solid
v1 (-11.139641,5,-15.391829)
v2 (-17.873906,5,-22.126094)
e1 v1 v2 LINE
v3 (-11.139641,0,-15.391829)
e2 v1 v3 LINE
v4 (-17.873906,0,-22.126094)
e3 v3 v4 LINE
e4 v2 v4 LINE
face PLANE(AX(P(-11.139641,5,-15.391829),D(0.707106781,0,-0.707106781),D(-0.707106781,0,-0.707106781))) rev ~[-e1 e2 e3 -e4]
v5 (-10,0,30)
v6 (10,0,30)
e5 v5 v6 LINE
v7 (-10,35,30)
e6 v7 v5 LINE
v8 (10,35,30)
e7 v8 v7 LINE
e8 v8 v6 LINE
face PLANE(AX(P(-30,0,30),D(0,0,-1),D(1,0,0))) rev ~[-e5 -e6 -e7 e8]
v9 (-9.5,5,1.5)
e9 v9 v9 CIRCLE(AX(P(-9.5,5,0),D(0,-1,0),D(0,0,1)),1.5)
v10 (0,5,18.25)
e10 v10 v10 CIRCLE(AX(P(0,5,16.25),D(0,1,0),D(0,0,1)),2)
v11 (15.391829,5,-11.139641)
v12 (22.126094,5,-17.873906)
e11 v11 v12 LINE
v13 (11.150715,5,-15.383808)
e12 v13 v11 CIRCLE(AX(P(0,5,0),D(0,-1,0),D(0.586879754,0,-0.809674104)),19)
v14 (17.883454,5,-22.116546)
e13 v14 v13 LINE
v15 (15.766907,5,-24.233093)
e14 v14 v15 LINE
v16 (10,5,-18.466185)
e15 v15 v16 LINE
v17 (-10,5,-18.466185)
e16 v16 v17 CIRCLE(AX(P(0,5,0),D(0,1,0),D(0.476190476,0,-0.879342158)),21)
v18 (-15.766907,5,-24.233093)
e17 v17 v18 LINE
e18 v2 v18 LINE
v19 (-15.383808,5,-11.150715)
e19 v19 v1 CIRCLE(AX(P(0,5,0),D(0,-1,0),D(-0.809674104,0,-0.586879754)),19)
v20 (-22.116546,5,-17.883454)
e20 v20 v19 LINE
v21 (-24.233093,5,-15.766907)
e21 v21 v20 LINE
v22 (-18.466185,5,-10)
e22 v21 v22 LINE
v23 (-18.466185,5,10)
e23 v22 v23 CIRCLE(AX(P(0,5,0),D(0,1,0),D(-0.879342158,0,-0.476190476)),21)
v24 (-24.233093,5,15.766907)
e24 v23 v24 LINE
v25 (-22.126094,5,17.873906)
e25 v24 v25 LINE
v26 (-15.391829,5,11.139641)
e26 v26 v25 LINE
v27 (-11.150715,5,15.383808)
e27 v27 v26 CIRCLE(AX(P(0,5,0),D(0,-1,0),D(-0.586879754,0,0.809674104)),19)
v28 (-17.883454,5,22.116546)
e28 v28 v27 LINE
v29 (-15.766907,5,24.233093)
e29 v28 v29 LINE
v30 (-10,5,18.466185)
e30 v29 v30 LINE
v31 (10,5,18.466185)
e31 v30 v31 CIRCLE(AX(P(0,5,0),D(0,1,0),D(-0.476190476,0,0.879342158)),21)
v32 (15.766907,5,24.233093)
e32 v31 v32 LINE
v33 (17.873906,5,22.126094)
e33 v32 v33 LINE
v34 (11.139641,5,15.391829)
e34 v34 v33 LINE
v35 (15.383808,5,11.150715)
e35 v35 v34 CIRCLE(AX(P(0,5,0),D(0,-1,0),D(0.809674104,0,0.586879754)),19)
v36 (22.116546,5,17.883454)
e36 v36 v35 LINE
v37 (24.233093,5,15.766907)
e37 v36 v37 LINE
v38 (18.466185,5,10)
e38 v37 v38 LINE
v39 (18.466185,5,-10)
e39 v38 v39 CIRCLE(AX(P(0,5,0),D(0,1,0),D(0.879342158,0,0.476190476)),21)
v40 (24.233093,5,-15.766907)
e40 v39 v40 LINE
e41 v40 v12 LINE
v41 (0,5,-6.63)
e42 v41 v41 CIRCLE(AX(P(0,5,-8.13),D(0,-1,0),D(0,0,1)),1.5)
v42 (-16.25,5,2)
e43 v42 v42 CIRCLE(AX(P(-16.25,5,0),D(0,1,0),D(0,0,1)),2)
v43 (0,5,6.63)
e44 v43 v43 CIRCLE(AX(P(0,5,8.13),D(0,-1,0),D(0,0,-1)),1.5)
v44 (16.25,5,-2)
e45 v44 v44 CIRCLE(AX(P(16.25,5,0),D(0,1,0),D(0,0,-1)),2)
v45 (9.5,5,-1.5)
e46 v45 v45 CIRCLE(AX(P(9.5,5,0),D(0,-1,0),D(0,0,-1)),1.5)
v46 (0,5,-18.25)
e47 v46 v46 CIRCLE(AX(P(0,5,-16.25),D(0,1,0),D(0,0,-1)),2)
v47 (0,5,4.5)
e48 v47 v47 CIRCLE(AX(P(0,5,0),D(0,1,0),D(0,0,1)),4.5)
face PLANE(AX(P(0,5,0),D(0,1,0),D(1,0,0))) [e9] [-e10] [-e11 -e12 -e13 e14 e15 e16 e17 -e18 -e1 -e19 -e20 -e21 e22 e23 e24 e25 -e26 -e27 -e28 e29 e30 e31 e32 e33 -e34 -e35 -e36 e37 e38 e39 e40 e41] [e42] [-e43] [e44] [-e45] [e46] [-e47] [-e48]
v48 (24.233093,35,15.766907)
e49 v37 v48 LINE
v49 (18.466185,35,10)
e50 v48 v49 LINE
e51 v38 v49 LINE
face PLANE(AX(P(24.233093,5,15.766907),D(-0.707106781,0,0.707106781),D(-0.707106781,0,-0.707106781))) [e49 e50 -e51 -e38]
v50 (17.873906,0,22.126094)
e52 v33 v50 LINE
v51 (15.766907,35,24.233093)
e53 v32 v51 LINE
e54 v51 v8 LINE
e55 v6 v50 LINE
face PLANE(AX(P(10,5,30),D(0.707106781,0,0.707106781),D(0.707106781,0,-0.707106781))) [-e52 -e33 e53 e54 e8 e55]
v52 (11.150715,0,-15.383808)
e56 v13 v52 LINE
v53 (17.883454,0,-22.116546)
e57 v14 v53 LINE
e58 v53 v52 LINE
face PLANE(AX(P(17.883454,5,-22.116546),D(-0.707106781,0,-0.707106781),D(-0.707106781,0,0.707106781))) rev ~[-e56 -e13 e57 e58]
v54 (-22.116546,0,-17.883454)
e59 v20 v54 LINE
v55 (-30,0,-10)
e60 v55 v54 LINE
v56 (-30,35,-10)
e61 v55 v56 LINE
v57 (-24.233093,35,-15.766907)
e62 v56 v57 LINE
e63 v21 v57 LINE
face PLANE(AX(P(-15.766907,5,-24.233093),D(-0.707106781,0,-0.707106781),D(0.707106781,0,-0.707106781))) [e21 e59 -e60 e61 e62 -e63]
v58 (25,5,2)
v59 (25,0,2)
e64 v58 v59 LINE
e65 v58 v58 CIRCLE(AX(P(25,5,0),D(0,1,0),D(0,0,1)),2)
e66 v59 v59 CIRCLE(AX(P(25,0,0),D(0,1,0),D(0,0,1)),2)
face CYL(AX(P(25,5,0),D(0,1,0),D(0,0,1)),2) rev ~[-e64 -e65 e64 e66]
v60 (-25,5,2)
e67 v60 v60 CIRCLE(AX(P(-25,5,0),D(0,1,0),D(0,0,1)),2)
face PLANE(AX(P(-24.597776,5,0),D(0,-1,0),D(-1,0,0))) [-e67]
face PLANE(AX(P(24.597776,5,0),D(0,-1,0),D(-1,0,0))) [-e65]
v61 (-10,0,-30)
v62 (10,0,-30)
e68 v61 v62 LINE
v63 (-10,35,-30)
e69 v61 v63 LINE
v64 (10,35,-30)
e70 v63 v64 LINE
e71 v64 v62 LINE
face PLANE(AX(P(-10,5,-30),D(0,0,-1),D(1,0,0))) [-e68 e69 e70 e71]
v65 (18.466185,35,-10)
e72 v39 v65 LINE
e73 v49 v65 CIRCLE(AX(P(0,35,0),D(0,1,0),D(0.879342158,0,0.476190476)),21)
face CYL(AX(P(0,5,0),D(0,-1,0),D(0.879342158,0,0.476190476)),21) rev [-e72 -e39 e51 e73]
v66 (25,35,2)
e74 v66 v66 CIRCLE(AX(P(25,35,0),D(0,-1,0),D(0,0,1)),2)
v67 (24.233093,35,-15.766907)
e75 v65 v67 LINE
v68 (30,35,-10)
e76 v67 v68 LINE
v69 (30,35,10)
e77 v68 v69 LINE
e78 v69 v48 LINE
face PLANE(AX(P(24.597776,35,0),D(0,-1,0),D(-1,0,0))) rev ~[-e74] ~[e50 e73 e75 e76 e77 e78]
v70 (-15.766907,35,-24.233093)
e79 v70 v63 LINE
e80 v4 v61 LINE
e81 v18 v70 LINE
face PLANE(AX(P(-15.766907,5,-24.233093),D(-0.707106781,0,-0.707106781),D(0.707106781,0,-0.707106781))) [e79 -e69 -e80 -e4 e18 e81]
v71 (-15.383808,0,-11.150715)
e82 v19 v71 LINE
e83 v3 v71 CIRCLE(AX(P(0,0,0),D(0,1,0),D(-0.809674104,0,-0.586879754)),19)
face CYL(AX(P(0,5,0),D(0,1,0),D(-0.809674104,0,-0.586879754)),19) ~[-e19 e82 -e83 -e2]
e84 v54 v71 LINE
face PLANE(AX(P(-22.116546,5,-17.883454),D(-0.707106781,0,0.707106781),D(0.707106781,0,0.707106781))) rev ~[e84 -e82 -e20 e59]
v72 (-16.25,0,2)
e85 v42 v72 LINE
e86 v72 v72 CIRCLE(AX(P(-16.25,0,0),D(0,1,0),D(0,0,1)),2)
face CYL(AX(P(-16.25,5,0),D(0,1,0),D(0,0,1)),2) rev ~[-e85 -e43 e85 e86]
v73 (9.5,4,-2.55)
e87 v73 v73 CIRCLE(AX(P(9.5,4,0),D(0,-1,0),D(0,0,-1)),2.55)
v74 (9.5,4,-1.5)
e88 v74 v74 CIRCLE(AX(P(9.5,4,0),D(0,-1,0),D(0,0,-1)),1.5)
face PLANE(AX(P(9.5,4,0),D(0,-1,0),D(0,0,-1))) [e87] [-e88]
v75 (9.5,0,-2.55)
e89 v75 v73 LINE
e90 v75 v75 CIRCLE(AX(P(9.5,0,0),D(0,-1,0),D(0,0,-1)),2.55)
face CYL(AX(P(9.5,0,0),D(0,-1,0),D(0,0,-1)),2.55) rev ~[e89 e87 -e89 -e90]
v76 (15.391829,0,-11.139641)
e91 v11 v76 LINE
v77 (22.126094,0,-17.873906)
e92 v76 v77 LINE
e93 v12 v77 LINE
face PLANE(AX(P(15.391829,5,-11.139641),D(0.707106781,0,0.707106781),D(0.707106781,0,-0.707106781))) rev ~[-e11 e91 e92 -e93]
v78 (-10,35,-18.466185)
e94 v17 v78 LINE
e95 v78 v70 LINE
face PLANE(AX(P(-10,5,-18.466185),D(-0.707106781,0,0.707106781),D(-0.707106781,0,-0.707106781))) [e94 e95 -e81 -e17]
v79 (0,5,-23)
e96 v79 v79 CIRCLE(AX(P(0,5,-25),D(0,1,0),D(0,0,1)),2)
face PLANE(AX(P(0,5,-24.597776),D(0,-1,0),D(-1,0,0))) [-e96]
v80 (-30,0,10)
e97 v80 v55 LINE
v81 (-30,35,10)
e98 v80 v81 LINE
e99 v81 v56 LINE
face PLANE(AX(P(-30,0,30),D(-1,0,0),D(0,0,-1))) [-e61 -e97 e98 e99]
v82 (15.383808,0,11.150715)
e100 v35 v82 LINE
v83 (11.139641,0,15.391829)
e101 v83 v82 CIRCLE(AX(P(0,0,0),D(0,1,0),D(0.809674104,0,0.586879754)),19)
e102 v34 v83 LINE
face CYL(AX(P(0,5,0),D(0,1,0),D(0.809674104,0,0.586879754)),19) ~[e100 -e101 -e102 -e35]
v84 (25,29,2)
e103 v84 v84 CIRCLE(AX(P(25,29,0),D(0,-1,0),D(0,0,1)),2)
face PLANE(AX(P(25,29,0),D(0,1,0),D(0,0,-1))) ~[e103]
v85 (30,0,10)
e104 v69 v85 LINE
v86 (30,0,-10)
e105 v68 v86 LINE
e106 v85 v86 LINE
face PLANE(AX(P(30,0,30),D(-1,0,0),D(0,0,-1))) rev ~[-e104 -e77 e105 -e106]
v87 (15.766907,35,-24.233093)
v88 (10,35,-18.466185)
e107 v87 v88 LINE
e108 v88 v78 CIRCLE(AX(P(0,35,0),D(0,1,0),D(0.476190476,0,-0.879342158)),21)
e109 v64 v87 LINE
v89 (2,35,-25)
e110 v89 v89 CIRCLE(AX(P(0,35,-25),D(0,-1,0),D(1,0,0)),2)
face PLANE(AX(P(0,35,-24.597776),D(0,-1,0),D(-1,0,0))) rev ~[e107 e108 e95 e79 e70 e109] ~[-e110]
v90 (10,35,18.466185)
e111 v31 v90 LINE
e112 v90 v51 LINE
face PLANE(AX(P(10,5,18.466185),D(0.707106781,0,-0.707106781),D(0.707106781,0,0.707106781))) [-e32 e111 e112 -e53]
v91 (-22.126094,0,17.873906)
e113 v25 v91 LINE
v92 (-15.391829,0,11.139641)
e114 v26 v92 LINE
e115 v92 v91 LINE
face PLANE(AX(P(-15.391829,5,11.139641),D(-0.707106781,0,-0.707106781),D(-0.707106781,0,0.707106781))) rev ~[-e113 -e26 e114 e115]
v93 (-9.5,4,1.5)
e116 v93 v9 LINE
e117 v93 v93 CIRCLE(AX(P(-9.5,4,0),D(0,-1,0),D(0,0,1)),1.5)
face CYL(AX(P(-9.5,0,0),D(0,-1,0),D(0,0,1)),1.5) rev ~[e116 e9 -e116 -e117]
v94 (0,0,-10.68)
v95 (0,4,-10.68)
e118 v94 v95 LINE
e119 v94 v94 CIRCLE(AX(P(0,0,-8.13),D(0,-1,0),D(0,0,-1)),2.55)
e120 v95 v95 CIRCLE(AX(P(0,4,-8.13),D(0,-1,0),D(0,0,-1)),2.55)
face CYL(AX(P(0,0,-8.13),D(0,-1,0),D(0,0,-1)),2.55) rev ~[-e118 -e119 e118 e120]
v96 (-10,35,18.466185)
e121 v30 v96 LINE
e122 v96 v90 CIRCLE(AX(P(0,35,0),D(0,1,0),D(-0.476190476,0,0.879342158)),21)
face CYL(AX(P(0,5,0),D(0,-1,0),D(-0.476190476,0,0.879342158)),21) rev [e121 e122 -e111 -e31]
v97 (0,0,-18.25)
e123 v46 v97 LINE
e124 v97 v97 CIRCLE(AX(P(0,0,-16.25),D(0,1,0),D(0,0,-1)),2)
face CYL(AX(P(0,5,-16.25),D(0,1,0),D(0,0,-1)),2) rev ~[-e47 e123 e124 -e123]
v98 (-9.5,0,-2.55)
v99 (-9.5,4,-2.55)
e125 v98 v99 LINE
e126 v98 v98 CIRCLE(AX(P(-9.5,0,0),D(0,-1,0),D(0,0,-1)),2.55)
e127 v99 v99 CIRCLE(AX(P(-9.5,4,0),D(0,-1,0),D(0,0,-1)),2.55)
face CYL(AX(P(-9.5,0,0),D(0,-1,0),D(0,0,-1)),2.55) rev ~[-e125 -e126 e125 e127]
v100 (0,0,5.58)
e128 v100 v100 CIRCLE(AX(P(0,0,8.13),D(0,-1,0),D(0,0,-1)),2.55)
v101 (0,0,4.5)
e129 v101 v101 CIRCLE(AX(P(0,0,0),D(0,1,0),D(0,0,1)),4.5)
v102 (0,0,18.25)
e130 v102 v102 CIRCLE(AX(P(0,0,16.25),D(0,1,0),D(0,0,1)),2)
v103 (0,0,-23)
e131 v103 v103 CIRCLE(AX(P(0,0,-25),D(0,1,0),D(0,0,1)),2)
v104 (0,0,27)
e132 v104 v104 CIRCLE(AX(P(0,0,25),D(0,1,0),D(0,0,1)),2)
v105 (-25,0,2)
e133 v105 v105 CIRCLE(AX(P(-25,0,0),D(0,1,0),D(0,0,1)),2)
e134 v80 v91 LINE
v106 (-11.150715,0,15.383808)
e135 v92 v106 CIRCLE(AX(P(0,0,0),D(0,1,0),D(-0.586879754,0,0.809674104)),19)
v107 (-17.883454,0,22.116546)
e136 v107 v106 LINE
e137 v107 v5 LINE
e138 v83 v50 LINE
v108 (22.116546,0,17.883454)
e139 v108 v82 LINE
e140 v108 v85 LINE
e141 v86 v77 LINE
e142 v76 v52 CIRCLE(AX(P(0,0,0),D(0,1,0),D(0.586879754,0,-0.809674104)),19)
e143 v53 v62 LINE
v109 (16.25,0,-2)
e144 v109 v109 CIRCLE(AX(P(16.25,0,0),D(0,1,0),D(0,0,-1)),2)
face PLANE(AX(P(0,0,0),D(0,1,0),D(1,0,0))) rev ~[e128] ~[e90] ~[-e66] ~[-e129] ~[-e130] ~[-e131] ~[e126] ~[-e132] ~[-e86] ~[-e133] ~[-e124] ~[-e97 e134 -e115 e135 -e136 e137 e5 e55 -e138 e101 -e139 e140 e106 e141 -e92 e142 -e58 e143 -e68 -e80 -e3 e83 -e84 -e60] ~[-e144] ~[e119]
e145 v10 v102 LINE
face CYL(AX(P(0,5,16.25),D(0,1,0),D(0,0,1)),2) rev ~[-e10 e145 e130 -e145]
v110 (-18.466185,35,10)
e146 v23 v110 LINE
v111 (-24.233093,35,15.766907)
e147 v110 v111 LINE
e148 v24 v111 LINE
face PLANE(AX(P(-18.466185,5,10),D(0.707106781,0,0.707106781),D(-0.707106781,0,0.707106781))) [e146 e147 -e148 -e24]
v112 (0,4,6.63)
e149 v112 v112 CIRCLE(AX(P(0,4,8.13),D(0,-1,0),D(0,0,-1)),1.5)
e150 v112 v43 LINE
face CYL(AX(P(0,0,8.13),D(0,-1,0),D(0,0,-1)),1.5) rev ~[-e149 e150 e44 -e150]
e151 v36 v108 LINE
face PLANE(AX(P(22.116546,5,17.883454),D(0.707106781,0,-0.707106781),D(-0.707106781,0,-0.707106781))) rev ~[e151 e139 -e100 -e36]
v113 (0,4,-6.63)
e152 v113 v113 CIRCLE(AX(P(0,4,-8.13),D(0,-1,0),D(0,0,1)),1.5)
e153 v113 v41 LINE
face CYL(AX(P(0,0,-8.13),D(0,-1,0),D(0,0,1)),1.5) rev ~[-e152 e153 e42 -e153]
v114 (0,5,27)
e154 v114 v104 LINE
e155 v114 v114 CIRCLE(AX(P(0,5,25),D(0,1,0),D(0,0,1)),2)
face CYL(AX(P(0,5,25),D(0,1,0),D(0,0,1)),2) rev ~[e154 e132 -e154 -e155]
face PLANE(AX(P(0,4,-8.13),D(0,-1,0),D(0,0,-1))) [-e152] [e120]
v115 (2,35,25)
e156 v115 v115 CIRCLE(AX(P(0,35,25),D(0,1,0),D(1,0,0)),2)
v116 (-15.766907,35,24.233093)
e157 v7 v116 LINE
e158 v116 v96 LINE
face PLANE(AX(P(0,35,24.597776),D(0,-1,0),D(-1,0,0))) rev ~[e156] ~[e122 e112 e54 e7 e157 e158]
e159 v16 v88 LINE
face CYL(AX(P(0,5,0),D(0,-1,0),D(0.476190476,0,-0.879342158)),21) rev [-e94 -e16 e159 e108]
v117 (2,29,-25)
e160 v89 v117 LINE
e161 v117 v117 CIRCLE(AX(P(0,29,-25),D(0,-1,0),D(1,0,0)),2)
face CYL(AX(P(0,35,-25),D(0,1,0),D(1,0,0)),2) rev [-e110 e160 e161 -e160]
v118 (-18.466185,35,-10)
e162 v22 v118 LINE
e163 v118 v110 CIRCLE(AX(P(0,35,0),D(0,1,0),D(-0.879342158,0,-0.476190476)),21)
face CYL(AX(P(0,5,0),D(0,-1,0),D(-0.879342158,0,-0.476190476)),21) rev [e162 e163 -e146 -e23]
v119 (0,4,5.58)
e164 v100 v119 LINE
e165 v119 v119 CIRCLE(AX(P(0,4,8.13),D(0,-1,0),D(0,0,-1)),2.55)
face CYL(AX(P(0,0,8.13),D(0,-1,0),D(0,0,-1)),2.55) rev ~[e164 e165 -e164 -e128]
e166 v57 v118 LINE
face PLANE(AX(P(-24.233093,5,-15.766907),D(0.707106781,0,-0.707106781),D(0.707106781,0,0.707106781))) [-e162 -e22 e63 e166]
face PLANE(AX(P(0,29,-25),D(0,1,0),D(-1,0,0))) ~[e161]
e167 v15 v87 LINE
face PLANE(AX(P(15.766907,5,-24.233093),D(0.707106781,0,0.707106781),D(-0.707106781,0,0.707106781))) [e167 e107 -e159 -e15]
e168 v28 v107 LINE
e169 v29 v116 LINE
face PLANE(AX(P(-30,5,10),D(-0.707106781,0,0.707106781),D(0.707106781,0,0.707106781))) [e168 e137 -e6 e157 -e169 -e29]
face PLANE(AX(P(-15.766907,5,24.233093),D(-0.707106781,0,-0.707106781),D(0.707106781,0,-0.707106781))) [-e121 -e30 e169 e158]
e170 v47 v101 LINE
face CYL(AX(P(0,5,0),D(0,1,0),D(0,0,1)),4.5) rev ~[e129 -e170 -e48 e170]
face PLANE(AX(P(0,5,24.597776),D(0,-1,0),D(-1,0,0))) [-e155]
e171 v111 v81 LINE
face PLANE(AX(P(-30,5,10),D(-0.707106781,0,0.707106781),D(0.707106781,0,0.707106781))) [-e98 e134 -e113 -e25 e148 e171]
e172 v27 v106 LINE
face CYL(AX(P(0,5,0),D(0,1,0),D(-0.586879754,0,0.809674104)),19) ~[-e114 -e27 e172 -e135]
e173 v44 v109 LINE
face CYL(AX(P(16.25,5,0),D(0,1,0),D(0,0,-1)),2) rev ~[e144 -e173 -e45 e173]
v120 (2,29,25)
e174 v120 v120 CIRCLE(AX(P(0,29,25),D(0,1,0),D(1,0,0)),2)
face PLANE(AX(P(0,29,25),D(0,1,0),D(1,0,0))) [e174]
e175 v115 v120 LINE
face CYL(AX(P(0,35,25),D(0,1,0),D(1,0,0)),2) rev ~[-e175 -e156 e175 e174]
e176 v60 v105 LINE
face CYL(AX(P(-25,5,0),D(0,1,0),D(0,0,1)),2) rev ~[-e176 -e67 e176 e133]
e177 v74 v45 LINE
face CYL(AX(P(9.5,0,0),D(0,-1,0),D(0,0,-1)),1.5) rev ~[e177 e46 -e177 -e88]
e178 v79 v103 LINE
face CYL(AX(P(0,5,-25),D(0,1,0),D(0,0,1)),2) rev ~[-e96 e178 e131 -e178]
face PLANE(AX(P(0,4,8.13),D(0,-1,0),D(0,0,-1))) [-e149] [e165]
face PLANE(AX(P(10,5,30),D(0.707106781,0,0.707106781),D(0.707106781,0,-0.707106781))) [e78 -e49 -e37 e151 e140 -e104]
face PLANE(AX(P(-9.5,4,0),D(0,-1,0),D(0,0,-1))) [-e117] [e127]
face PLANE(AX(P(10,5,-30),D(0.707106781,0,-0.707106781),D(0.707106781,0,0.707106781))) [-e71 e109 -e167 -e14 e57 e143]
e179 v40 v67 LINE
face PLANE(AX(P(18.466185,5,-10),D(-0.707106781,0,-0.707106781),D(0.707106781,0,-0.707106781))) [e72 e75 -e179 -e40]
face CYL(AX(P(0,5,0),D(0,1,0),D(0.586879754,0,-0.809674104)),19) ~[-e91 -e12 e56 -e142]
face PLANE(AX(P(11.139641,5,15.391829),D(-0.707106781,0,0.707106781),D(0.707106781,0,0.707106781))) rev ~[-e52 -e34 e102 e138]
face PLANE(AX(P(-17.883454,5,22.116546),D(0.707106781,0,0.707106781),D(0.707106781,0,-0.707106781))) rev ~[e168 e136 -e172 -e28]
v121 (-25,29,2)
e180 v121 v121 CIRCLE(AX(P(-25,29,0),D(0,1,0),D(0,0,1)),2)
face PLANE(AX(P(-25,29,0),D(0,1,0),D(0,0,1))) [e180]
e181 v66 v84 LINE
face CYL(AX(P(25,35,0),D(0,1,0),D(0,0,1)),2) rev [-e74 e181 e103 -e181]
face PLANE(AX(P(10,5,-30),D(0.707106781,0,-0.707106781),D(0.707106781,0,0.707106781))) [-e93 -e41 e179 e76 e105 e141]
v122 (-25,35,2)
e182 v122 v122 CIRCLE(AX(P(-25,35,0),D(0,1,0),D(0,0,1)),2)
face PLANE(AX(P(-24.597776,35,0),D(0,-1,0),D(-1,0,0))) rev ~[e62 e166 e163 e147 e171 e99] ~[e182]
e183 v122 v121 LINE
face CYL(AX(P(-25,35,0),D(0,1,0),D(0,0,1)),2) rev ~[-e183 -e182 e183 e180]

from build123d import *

# Parameters (mm, degrees)
SKETCH1_W                = 60
SKETCH1_H                = 60
BOSS_EXTRUDE1_DEPTH      = 5
SKETCH2_R                = 2
CUT_EXTRUDE2_DEPTH       = 43.720018727
SKETCH8_R                = 4.5
CUT_EXTRUDE4_DEPTH       = 43.720018727
SKETCH31_R               = 1.5
CUT_EXTRUDE20_DEPTH      = 10
SKETCH33_R               = 2.5
CUT_EXTRUDE21_DEPTH      = 3
BOSS_EXTRUDE11_START     = -5
SKETCH35_R               = 4.5
SKETCH35_R_2             = 2
BOSS_EXTRUDE11_DEPTH     = 5
SKETCH37_R               = 1.5
CUT_EXTRUDE22_DEPTH      = 5
SKETCH38_R               = 2.55
CUT_EXTRUDE23_DEPTH      = 4
SKETCH7_R                = 2
CUT_EXTRUDE24_DEPTH      = 10
BOSS_EXTRUDE12_DEPTH     = 30
SKETCH40_R               = 2
CUT_EXTRUDE25_DEPTH      = 6
MIRROR20_COPY_1_SKETCH_R = 2
MIRROR20_COPY_1_DEPTH    = 6
CUT_EXTRUDE27_DEPTH      = 10


with BuildPart() as part:
    # Sketch1 → Boss-Extrude1 (new body)
    with BuildSketch(Plane(origin=(0, 0, 0), x_dir=(1, 0, 0), z_dir=(0, 1, 0))):
        Rectangle(SKETCH1_W, SKETCH1_H)
    extrude(amount=BOSS_EXTRUDE1_DEPTH)

    # Sketch2 → Cut-Extrude2 (cut, through all)
    with BuildSketch(Plane(origin=(0, 5, 0), x_dir=(1, 0, 0), z_dir=(0, 1, 0))):
        with Locations(Location((-16.25, 0, 0), (0, 0, 270))):
            Circle(SKETCH2_R)
        with Locations(Location((16.25, 0, 0), (0, 0, 90))):
            Circle(SKETCH2_R)
        with Locations(Location((0, -16.25, 0), (0, 0, 270))):
            Circle(SKETCH2_R)
        with Locations(Location((0, 16.25, 0), (0, 0, 90))):
            Circle(SKETCH2_R)
    extrude(amount=-CUT_EXTRUDE2_DEPTH, mode=Mode.SUBTRACT)

    # Sketch8 → Cut-Extrude4 (cut, through all)
    with BuildSketch(Plane(origin=(0, 5, 0), x_dir=(1, 0, 0), z_dir=(0, 1, 0))):
        with Locations(Location((0, 0, 0), (0, 0, 270))):
            Circle(SKETCH8_R)
    extrude(amount=-CUT_EXTRUDE4_DEPTH, mode=Mode.SUBTRACT)

    # Sketch31 → Cut-Extrude20 (cut)
    with BuildSketch(Plane(origin=(0, 5, 0), x_dir=(1, 0, 0), z_dir=(0, 1, 0))):
        with Locations(Location((0, 9.5, 0), (0, 0, 270))):
            Circle(SKETCH31_R)
    cut_extrude20 = extrude(amount=-CUT_EXTRUDE20_DEPTH, mode=Mode.SUBTRACT)

    # Sketch33 → Cut-Extrude21 (cut)
    with BuildSketch(Plane.XZ):
        with Locations(Location((0, -9.5, 0), (0, 0, 270))):
            Circle(SKETCH33_R)
    cut_extrude21 = extrude(amount=-CUT_EXTRUDE21_DEPTH, mode=Mode.SUBTRACT)

    # Mirror17: Cut-Extrude20, Cut-Extrude21 across plane
    add(cut_extrude20.mirror(Plane.XY), mode=Mode.SUBTRACT)
    add(cut_extrude21.mirror(Plane.XY), mode=Mode.SUBTRACT)

    # Sketch35 → Boss-Extrude11 (add)
    with BuildSketch(Plane.XZ.offset(BOSS_EXTRUDE11_START)):
        Polygon((-3.829271912, -6.598130063), (-3.829271912, -19.146359559), (3.475800658, -19.146359559), (3.475800658, -6.598130063), (6.745409752, -3.328520969), (18.851800181, -3.328520969), (18.851800181, 3.652536285), (6.745409752, 3.652536285), (3.873455818, 6.524490219), (3.873455818, 19.323095186), (-3.240153156, 19.323095186), (-3.240153156, 7.246160695), (-6.362482561, 3.652536285), (-19.676566439, 3.652536285), (-19.676566439, -3.328520969), (-6.362482561, -3.328520969), align=None)
        with Locations(Location((0, 0, 0), (0, 0, 90))):
            Circle(SKETCH35_R, mode=Mode.SUBTRACT)
        with Locations(Location((-16.25, 0, 0), (0, 0, 90))):
            Circle(SKETCH35_R_2, mode=Mode.SUBTRACT)
        with Locations(Location((0, 16.25, 0), (0, 0, 90))):
            Circle(SKETCH35_R_2, mode=Mode.SUBTRACT)
        with Locations(Location((16.25, 0, 0), (0, 0, 270))):
            Circle(SKETCH35_R_2, mode=Mode.SUBTRACT)
        with Locations(Location((0, -16.25, 0), (0, 0, 270))):
            Circle(SKETCH35_R_2, mode=Mode.SUBTRACT)
    extrude(amount=BOSS_EXTRUDE11_DEPTH)

    # Sketch37 → Cut-Extrude22 (cut)
    with BuildSketch(Plane.XZ):
        with Locations(Location((0, 8.13, 0), (0, 0, 270))):
            Circle(SKETCH37_R)
        with Locations(Location((9.5, 0, 0), (0, 0, 270))):
            Circle(SKETCH37_R)
        with Locations(Location((-9.5, 0, 0), (0, 0, 90))):
            Circle(SKETCH37_R)
        with Locations(Location((0, -8.13, 0), (0, 0, 90))):
            Circle(SKETCH37_R)
    extrude(amount=-CUT_EXTRUDE22_DEPTH, mode=Mode.SUBTRACT)

    # Sketch38 → Cut-Extrude23 (cut)
    with BuildSketch(Plane.XZ):
        with Locations(Location((0, 8.13, 0), (0, 0, 270))):
            Circle(SKETCH38_R)
        with Locations(Location((9.5, 0, 0), (0, 0, 270))):
            Circle(SKETCH38_R)
        with Locations(Location((0, -8.13, 0), (0, 0, 270))):
            Circle(SKETCH38_R)
        with Locations(Location((-9.5, 0, 0), (0, 0, 270))):
            Circle(SKETCH38_R)
    extrude(amount=-CUT_EXTRUDE23_DEPTH, mode=Mode.SUBTRACT)

    # Sketch7 → Cut-Extrude24 (cut)
    with BuildSketch(Plane(origin=(0, 5, 0), x_dir=(1, 0, 0), z_dir=(0, 1, 0))):
        with Locations(Location((-25, 0, 0), (0, 0, 270))):
            Circle(SKETCH7_R)
        with Locations(Location((0, 25, 0), (0, 0, 270))):
            Circle(SKETCH7_R)
        with Locations(Location((25, 0, 0), (0, 0, 270))):
            Circle(SKETCH7_R)
        with Locations(Location((0, -25, 0), (0, 0, 270))):
            Circle(SKETCH7_R)
        Polygon((-30, 30), (-30, 10), (-10, 30), align=None)
        Polygon((30, 30), (30, 10), (10, 30), align=None)
        Polygon((30, -30), (10, -30), (30, -10), align=None)
        Polygon((-30, -30), (-30, -10), (-10, -30), align=None)
    extrude(amount=-CUT_EXTRUDE24_DEPTH, mode=Mode.SUBTRACT)

    # Sketch39 → Boss-Extrude12 (add)
    with BuildSketch(Plane(origin=(0, 5, 0), x_dir=(1, 0, 0), z_dir=(0, 1, 0))):
        with BuildLine():
            Line((-10, 30), (10, 30))
            Line((10, 30), (15.766907344, 24.233092656))
            Line((15.766907344, 24.233092656), (10, 18.466185313))
            ThreePointArc((10, 18.466185313), (0, 21), (-10, 18.466185313))
            Line((-10, 18.466185313), (-15.766907344, 24.233092656))
            Line((-15.766907344, 24.233092656), (-10, 30))
        make_face()
        with BuildLine():
            Line((30, 10), (30, -10))
            Line((30, -10), (24.233092656, -15.766907344))
            Line((24.233092656, -15.766907344), (18.466185313, -10))
            ThreePointArc((18.466185313, -10), (21, 0), (18.466185313, 10))
            Line((18.466185313, 10), (24.233092656, 15.766907344))
            Line((24.233092656, 15.766907344), (30, 10))
        make_face()
        with BuildLine():
            Line((10, -30), (-10, -30))
            Line((-10, -30), (-15.766907344, -24.233092656))
            Line((-15.766907344, -24.233092656), (-10, -18.466185313))
            ThreePointArc((-10, -18.466185313), (0, -21), (10, -18.466185313))
            Line((10, -18.466185313), (15.766907344, -24.233092656))
            Line((15.766907344, -24.233092656), (10, -30))
        make_face()
        with BuildLine():
            Line((-30, -10), (-30, 10))
            Line((-30, 10), (-24.233092656, 15.766907344))
            Line((-24.233092656, 15.766907344), (-18.466185313, 10))
            ThreePointArc((-18.466185313, 10), (-21, 0), (-18.466185313, -10))
            Line((-18.466185313, -10), (-24.233092656, -15.766907344))
            Line((-24.233092656, -15.766907344), (-30, -10))
        make_face()
    extrude(amount=BOSS_EXTRUDE12_DEPTH)

    # Sketch40 → Cut-Extrude25 (cut)
    with BuildSketch(Plane(origin=(0, 35, 0), x_dir=(1, 0, 0), z_dir=(0, 1, 0))):
        with Locations(Location((-25, 0, 0), (0, 0, 270))):
            Circle(SKETCH40_R)
    cut_extrude25 = extrude(amount=-CUT_EXTRUDE25_DEPTH, mode=Mode.SUBTRACT)

    # Mirror19: Cut-Extrude25 across plane
    add(cut_extrude25.mirror(Plane(origin=(0, 0, 0), x_dir=(0, 0, 1), z_dir=(1, 0, 0))), mode=Mode.SUBTRACT)

    # Mirror20: Cut-Extrude25 across plane
    add(cut_extrude25.mirror(Plane(origin=(0, 0, 0), x_dir=(0.7071067811865478, 0, 0.7071067811865472), z_dir=(0.7071067811865475, 0, -0.7071067811865477))), mode=Mode.SUBTRACT)

    # Mirror20 copy 1 sketch → Mirror20 copy 1 (cut)
    with BuildSketch(Plane(origin=(0, 35, 0), x_dir=(0, 0, -1), z_dir=(0, 1, 0))):
        with Locations(Location((-25, 0, 0), (0, 0, 270))):
            Circle(MIRROR20_COPY_1_SKETCH_R)
    extrude(amount=-MIRROR20_COPY_1_DEPTH, mode=Mode.SUBTRACT)

    # Sketch42 → Cut-Extrude27 (cut)
    with BuildSketch(Plane(origin=(0, 5, 0), x_dir=(1, 0, 0), z_dir=(0, 1, 0))):
        with BuildLine():
            Line((-22.116546328, 17.883453672), (-15.383807976, 11.15071532))
            ThreePointArc((-15.383807976, 11.15071532), (-13.430193311, 13.439862634), (-11.139640554, 15.391829272))
            Line((-11.139640554, 15.391829272), (-17.873905641, 22.126094359))
            Line((-17.873905641, 22.126094359), (-22.116546328, 17.883453672))
        make_face()
        with BuildLine():
            Line((22.126094359, 17.873905641), (17.883453672, 22.116546328))
            Line((17.883453672, 22.116546328), (11.15071532, 15.383807976))
            ThreePointArc((11.15071532, 15.383807976), (13.439862634, 13.430193311), (15.391829272, 11.139640554))
            Line((15.391829272, 11.139640554), (22.126094359, 17.873905641))
        make_face()
        with BuildLine():
            Line((17.873905641, -22.126094359), (22.116546328, -17.883453672))
            Line((22.116546328, -17.883453672), (15.383807976, -11.15071532))
            ThreePointArc((15.383807976, -11.15071532), (13.430193311, -13.439862634), (11.139640554, -15.391829272))
            Line((11.139640554, -15.391829272), (17.873905641, -22.126094359))
        make_face()
        with BuildLine():
            Line((-22.126094359, -17.873905641), (-17.883453672, -22.116546328))
            Line((-17.883453672, -22.116546328), (-11.15071532, -15.383807976))
            ThreePointArc((-11.15071532, -15.383807976), (-13.439862634, -13.430193311), (-15.391829272, -11.139640554))
            Line((-15.391829272, -11.139640554), (-22.126094359, -17.873905641))
        make_face()
    extrude(amount=-CUT_EXTRUDE27_DEPTH, mode=Mode.SUBTRACT)


solid = part.part
